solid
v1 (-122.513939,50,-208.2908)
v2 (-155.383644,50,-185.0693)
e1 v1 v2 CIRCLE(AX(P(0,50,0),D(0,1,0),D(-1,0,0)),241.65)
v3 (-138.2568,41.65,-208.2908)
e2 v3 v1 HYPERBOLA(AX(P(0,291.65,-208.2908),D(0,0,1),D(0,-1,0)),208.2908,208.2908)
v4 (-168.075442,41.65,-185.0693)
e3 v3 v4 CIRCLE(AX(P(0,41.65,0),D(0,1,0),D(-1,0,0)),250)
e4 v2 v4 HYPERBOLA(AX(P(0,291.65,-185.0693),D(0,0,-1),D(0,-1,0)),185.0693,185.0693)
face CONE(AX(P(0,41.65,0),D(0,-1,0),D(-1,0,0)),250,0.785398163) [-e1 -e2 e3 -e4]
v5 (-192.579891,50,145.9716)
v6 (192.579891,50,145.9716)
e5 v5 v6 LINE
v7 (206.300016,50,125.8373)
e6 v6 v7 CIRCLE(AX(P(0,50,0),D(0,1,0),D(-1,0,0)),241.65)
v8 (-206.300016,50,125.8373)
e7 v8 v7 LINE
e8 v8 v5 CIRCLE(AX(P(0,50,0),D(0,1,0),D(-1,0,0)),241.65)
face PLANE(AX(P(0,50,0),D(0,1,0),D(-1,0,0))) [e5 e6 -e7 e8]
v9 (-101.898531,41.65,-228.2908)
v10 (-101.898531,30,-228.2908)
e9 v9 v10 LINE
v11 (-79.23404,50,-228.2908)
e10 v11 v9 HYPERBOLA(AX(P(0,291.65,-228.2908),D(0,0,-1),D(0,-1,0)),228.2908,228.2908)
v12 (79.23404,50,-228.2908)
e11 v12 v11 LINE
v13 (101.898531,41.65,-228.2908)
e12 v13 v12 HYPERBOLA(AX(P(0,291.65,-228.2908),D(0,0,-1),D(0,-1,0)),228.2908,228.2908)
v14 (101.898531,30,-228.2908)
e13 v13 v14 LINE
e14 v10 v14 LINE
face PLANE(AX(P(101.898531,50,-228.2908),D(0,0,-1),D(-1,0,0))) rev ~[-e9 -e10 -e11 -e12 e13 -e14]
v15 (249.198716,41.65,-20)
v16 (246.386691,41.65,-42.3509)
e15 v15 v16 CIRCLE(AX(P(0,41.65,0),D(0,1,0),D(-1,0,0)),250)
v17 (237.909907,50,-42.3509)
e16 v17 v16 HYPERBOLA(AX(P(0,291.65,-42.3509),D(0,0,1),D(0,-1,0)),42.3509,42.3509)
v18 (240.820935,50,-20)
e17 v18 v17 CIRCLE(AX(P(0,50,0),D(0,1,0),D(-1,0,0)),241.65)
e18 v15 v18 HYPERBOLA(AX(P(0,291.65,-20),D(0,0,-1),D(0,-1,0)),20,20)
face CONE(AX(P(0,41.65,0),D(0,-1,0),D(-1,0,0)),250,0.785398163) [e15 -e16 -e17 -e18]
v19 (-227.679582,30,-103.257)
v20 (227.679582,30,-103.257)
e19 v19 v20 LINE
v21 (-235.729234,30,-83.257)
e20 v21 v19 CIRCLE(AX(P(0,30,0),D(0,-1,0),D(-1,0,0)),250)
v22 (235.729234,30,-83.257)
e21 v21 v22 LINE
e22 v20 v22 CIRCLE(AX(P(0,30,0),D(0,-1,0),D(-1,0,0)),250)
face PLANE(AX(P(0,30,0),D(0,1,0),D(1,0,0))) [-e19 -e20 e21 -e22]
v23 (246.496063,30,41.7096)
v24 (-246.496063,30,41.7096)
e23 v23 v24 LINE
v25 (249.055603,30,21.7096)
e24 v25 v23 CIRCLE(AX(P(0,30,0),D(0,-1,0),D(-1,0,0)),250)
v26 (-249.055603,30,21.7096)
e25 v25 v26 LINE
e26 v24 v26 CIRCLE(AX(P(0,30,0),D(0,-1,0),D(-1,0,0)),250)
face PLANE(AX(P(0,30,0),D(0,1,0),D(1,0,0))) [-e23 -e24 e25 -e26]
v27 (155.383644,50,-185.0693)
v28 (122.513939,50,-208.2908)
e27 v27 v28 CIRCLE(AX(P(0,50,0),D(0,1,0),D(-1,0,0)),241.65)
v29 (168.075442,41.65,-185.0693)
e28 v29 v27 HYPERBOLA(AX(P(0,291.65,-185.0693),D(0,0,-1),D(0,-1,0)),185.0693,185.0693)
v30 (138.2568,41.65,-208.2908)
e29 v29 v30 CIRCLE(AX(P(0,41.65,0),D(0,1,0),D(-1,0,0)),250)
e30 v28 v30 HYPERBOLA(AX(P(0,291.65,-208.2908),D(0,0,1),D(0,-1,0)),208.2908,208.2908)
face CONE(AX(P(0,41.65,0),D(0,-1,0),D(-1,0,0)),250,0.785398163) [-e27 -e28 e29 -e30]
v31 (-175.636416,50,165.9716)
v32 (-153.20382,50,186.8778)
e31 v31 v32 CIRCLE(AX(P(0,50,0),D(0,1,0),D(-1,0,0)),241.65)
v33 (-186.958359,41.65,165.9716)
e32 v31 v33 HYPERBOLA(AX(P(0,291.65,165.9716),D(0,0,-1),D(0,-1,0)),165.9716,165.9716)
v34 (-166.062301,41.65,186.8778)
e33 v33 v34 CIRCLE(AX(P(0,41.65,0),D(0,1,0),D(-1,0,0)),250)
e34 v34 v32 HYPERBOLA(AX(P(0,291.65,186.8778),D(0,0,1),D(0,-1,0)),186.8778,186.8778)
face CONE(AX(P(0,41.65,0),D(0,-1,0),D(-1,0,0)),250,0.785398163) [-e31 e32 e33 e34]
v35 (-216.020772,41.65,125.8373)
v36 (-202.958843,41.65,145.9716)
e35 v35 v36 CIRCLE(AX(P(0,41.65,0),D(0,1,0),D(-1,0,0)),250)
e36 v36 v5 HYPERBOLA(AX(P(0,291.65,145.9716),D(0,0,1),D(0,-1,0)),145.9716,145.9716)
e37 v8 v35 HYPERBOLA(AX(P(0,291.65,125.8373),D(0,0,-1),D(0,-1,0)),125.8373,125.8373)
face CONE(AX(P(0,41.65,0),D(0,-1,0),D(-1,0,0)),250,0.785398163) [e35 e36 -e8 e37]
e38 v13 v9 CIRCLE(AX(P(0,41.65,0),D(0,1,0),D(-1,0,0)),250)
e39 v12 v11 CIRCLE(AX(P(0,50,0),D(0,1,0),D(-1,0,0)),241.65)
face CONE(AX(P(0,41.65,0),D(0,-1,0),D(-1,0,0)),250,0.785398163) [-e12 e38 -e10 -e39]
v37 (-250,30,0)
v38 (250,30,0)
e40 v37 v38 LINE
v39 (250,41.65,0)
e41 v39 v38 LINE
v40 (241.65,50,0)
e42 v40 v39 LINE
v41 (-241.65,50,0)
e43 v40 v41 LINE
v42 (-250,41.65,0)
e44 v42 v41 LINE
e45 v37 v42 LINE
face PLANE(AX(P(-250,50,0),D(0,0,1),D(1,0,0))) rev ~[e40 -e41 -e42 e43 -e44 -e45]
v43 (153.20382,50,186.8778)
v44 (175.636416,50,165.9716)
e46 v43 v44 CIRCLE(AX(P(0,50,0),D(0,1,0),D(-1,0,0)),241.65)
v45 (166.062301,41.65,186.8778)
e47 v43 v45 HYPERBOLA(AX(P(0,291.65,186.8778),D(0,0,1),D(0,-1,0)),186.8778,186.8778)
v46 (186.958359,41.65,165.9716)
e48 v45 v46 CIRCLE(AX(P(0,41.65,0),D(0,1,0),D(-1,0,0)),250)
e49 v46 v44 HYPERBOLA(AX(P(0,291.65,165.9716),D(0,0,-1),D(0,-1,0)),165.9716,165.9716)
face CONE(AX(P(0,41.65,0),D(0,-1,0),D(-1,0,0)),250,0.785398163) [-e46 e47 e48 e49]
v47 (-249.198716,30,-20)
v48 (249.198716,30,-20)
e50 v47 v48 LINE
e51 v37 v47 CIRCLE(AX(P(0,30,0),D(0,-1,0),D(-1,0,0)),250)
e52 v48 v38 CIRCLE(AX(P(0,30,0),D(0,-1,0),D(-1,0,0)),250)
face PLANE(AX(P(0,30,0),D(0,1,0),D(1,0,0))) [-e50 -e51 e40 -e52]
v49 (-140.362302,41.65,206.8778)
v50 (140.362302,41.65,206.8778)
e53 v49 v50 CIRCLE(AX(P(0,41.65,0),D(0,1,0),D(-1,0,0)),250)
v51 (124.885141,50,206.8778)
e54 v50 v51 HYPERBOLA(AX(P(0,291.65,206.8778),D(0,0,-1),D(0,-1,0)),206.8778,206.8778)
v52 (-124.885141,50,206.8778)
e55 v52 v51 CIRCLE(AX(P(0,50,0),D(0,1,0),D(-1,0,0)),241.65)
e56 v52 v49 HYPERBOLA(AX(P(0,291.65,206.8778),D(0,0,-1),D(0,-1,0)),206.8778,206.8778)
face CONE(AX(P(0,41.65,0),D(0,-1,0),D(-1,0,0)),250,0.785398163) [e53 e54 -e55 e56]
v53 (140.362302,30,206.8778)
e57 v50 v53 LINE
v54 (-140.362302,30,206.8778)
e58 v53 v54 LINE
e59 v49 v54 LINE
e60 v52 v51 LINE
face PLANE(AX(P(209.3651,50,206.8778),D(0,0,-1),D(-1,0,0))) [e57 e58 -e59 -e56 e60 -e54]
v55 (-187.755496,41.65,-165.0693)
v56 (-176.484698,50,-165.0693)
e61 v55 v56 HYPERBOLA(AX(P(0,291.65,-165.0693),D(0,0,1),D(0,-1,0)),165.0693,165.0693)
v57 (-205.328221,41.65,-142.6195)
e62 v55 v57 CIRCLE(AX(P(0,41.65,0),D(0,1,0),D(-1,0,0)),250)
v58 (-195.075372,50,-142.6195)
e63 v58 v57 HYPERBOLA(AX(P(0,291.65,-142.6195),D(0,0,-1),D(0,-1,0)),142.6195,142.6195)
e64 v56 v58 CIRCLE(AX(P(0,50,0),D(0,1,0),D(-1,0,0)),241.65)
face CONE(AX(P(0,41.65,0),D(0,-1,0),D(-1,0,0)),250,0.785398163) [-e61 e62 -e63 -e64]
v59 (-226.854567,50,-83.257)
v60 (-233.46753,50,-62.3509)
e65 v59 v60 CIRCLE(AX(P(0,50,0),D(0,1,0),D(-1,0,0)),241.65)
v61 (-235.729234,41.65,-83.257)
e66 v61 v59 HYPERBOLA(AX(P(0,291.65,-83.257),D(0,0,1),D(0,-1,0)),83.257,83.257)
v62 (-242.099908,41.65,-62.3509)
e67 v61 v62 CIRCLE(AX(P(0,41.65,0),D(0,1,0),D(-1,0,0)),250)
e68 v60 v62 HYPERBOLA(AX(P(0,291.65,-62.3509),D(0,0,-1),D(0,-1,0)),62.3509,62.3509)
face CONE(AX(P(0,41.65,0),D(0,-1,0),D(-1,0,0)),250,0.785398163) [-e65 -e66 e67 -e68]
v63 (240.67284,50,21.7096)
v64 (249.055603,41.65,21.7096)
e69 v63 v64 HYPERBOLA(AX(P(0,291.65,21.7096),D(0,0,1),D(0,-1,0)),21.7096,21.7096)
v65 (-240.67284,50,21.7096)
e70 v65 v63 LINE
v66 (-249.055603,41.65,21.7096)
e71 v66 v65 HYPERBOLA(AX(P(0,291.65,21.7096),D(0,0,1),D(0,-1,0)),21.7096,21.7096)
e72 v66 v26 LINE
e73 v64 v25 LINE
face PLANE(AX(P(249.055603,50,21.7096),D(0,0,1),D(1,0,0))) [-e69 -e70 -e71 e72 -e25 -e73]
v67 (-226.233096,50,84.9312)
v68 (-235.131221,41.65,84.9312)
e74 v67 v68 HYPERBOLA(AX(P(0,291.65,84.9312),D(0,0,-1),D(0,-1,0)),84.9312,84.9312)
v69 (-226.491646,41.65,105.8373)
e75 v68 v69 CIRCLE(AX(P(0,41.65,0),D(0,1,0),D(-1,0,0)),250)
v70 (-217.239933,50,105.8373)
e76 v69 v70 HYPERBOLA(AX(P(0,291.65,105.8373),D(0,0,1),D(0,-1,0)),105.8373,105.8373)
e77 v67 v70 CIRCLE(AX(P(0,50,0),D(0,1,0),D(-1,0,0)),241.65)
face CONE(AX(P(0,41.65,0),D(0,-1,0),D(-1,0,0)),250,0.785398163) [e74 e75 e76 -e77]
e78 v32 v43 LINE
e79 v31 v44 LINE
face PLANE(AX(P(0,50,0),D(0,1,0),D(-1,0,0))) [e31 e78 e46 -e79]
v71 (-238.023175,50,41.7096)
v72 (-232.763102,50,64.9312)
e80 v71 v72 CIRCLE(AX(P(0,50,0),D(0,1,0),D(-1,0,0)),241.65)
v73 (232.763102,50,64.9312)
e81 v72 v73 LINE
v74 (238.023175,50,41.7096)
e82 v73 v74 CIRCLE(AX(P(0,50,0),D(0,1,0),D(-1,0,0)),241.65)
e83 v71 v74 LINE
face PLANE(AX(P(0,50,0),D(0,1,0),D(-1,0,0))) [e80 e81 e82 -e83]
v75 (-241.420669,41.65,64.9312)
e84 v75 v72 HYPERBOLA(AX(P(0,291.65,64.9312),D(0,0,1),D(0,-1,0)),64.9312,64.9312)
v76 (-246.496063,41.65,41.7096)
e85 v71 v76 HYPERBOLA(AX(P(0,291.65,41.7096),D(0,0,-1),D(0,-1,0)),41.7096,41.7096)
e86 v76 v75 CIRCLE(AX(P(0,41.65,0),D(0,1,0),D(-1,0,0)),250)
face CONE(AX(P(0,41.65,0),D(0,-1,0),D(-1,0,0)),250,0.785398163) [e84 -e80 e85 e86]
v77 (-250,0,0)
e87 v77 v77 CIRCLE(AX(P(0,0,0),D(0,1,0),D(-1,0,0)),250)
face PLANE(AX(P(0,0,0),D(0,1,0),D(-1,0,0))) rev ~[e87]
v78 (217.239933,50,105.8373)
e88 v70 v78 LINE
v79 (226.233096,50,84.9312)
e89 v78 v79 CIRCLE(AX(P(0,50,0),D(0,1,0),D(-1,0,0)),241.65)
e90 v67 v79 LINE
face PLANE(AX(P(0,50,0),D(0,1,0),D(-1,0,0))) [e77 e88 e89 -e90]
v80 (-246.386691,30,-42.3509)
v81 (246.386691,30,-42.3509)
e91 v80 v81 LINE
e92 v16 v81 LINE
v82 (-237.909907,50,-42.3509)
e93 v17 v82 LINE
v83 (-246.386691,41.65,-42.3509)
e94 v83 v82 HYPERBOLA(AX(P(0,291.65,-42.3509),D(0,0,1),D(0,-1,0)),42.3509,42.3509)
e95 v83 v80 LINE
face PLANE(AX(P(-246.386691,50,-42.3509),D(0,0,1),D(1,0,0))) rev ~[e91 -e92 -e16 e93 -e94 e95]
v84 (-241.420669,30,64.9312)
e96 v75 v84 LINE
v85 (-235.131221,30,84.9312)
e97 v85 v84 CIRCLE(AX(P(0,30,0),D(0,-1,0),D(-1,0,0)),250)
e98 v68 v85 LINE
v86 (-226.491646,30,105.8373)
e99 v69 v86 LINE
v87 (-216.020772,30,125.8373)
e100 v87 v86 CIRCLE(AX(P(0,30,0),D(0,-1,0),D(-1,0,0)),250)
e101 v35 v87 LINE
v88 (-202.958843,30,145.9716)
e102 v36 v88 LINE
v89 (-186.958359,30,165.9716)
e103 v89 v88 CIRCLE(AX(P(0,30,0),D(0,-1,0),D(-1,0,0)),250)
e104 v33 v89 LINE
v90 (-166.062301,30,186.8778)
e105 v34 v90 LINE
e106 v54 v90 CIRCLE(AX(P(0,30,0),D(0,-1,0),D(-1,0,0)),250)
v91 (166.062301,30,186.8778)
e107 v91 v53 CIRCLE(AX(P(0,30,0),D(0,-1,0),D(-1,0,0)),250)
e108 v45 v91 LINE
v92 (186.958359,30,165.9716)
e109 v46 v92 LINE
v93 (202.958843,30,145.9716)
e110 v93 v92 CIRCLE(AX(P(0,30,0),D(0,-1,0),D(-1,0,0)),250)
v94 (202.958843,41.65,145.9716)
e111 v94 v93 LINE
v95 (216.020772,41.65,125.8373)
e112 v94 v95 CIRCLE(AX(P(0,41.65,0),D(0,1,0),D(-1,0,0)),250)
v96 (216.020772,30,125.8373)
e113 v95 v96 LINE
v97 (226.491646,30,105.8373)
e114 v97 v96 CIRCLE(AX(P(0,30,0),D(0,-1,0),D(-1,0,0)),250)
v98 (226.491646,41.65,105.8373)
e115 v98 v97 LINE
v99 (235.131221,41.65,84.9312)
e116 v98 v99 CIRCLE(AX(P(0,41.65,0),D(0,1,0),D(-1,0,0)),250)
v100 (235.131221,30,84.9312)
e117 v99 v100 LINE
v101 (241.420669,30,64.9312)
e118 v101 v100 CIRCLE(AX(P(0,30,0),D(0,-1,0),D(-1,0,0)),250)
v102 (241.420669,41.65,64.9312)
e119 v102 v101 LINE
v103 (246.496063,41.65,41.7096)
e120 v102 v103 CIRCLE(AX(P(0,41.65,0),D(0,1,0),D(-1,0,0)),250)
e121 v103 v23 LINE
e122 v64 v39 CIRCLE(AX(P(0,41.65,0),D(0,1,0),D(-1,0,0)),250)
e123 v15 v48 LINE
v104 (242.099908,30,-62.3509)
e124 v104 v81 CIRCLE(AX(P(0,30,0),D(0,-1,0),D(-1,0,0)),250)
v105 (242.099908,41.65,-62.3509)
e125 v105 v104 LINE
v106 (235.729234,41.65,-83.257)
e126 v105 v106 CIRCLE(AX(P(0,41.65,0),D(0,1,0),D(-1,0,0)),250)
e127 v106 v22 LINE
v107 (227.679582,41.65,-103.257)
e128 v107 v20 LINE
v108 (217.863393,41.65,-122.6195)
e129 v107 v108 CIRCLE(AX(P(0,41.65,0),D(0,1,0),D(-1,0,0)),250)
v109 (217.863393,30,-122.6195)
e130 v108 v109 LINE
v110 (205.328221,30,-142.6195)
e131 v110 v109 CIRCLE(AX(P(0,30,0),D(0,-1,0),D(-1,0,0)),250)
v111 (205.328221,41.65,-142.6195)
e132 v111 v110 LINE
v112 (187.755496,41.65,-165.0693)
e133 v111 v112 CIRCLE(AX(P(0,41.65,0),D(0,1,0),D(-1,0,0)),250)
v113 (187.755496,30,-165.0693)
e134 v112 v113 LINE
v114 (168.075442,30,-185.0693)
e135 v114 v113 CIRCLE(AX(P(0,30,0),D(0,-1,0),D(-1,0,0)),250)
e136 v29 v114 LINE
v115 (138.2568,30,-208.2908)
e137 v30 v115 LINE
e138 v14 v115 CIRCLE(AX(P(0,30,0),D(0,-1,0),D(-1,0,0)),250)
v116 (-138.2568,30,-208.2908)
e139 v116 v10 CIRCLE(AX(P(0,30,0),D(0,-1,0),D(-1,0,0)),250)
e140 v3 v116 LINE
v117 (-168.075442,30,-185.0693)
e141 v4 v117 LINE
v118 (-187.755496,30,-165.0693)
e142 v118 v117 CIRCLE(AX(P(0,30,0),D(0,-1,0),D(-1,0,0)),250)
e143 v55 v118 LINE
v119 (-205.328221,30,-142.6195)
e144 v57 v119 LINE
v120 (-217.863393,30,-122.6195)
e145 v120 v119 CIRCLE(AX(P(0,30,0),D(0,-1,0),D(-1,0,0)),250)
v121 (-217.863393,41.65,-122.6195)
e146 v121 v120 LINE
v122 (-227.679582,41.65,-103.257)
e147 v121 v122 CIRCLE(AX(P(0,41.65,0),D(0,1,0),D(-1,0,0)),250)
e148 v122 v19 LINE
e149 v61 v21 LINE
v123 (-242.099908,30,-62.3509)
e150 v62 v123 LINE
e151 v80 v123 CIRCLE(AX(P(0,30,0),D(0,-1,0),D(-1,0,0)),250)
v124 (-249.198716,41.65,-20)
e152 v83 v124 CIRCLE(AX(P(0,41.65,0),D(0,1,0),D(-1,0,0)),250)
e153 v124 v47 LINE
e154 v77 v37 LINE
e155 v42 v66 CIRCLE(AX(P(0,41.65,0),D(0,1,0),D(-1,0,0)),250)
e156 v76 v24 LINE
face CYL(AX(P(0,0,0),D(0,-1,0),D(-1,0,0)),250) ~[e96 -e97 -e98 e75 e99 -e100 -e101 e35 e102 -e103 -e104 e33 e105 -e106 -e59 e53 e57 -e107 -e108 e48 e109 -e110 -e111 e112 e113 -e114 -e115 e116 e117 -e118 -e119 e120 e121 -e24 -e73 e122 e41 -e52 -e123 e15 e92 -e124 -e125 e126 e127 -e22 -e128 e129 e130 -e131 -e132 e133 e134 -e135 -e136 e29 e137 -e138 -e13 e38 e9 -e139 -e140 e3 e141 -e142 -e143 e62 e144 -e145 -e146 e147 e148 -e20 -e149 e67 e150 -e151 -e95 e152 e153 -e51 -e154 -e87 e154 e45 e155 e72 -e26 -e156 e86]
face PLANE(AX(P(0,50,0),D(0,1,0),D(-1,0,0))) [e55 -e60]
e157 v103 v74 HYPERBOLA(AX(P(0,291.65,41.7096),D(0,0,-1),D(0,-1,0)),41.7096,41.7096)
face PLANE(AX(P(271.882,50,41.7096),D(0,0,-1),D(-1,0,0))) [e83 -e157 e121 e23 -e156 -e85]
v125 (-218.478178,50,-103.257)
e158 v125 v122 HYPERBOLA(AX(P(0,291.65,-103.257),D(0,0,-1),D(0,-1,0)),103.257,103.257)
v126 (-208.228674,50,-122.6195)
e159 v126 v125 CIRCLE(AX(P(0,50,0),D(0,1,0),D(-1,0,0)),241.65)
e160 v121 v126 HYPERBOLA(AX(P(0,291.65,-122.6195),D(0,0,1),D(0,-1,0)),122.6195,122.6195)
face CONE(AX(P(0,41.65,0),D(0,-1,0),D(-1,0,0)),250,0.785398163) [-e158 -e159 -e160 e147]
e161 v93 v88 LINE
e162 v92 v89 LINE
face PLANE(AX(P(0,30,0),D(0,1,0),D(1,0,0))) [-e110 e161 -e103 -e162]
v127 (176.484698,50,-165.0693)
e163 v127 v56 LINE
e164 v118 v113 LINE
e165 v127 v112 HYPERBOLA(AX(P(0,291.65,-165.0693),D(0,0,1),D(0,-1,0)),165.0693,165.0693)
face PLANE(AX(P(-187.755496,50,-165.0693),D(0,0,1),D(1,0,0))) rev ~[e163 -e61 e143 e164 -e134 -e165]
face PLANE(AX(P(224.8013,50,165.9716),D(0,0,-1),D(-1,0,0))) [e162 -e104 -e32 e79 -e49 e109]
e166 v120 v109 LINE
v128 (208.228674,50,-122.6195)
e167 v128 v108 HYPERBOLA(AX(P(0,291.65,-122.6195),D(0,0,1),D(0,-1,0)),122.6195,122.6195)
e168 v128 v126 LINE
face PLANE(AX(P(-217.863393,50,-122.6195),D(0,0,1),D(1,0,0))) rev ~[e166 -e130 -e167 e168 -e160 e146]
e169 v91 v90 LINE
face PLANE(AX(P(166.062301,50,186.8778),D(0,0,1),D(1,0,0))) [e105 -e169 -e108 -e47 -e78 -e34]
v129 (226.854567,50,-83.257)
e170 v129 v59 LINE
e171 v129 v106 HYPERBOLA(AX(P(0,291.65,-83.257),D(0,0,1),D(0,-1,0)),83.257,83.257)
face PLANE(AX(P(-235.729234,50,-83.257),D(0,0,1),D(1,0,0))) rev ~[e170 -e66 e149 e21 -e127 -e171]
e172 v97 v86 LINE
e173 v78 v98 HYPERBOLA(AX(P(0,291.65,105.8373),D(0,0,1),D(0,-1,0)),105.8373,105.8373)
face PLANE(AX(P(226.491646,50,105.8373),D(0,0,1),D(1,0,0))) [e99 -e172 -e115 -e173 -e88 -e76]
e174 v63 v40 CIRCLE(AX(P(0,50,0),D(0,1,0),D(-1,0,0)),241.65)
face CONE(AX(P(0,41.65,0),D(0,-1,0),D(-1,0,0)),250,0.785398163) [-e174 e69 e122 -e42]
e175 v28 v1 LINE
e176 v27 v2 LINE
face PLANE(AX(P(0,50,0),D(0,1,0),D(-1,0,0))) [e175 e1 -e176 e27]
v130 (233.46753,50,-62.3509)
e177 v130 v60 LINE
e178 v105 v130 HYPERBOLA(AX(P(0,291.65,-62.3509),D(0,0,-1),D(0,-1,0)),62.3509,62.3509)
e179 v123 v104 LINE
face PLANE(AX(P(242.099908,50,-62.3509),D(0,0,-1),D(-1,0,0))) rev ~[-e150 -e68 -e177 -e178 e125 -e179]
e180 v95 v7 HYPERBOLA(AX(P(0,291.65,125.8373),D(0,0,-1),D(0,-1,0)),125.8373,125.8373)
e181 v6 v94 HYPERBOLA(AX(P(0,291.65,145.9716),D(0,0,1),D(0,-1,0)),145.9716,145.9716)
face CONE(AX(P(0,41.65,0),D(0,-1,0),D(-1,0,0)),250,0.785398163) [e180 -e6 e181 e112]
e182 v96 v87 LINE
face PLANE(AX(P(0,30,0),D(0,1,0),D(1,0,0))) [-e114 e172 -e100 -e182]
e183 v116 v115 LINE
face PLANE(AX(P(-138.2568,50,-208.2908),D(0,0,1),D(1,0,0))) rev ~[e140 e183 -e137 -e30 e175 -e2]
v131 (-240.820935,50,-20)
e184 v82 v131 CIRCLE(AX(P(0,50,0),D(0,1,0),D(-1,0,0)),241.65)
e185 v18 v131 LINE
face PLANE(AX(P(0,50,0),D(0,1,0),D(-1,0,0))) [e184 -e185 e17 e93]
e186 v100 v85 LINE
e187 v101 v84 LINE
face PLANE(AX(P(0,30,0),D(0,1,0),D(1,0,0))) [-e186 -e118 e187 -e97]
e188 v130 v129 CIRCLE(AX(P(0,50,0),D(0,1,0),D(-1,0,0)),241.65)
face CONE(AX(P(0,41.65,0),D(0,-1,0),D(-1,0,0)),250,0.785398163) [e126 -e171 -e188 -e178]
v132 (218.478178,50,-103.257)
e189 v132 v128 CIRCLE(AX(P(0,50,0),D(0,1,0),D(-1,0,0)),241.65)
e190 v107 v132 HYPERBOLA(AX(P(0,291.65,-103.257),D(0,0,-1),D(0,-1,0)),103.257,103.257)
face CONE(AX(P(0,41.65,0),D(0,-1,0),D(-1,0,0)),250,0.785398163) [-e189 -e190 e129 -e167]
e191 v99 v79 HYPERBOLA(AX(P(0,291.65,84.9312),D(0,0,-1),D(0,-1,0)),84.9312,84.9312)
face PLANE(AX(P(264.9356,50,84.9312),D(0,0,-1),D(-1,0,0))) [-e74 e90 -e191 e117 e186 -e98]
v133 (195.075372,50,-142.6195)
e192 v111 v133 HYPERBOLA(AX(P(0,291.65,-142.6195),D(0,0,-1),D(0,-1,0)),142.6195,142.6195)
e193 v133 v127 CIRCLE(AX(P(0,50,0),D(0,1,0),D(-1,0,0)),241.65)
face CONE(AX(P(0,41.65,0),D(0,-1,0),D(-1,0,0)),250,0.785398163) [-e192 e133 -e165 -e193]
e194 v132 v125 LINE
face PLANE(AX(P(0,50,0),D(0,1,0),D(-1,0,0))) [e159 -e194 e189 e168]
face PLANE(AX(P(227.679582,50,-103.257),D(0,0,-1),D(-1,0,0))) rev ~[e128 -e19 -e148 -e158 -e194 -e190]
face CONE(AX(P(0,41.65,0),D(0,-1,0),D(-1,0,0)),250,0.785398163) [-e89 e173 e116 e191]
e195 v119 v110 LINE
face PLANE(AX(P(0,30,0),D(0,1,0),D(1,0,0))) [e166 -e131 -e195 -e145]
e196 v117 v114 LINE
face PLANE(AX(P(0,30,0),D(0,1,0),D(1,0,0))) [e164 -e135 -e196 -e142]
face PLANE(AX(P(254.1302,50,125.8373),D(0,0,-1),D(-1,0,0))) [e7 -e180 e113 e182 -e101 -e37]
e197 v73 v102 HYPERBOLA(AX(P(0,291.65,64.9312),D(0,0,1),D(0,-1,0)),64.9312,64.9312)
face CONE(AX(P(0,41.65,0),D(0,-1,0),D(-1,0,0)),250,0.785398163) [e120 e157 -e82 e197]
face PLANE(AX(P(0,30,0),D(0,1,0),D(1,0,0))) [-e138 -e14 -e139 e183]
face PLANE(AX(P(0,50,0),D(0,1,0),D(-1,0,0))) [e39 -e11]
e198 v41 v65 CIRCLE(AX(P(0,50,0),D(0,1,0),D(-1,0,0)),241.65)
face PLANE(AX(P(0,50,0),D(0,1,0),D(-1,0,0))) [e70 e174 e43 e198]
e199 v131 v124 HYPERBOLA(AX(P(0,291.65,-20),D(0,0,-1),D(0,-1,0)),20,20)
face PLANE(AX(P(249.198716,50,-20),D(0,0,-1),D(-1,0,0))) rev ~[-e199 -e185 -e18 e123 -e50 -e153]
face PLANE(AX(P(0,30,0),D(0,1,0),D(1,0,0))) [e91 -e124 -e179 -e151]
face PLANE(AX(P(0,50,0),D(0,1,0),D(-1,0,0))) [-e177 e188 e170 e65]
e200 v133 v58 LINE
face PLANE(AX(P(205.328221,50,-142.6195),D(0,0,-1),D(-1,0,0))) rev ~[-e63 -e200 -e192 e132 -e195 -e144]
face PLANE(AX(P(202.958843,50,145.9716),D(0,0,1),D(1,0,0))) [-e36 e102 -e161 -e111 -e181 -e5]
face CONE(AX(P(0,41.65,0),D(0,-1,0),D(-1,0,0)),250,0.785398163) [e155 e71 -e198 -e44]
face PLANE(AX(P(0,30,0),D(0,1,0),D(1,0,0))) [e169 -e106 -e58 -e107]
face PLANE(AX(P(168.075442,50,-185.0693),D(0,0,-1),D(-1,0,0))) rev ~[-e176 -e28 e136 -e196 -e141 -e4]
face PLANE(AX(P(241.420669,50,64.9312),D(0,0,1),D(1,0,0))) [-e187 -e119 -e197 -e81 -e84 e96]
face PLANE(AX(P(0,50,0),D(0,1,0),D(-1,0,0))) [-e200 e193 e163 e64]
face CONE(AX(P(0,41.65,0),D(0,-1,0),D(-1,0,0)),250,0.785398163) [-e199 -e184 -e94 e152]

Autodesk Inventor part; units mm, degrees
ref_plane "YZ Plane" through (0, 0, 0) normal (1, 0, 0) x (0, 1, 0)
ref_plane "XZ Plane" through (0, 0, 0) normal (0, 1, 0) x (-1, 0, 0)
ref_plane "XY Plane" through (0, 0, 0) normal (0, 0, 1) x (1, 0, 0)
sketch "Sketch1" plane through (0, 0, 0) normal (0, 1, 0) x (-1, 0, 0)
  circle A0 centre (0, 0) radius 250
  dimension "d0" = 500
extrude "Extrusion1" add sketch "Sketch1" along normal blind 50
chamfer "Chamfer1" distance 8.35 angle 45 1 edges at (250, 50, 0)
sketch "Sketch2" plane through (0, 50, 0) normal (0, 1, 0) x (1, 0, 0)
  circle A0 centre (0, 0) radius 250 projected
  line L0 (-269.1595, 0) -> (277.2847, 0)
  line L1 (277.2847, 0) -> (277.2847, 20)
  line L2 (277.2847, 20) -> (-269.1595, 20)
  line L3 (-269.1595, 20) -> (-269.1595, 0)
  line L4 (-257.5823, 42.3509) -> (264.9356, 42.3509)
  line L5 (264.9356, 42.3509) -> (264.9356, 62.3509)
  line L6 (264.9356, 62.3509) -> (-257.5823, 62.3509)
  line L7 (-257.5823, 62.3509) -> (-257.5823, 42.3509)
  line L8 (-250, 83.257) -> (254.1302, 83.257)
  line L9 (254.1302, 83.257) -> (254.1302, 103.257)
  line L10 (254.1302, 103.257) -> (-250, 103.257)
  line L11 (-250, 103.257) -> (-250, 83.257)
  line L12 (-232.1124, 122.6195) -> (241.7812, 122.6195)
  line L13 (241.7812, 122.6195) -> (241.7812, 142.6195)
  line L14 (241.7812, 142.6195) -> (-232.1124, 142.6195)
  line L15 (-232.1124, 142.6195) -> (-232.1124, 122.6195)
  line L16 (-202.0117, 165.0693) -> (241.7812, 165.0693)
  line L17 (241.7812, 165.0693) -> (241.7812, 185.0693)
  line L18 (241.7812, 185.0693) -> (-202.0117, 185.0693)
  line L19 (-202.0117, 185.0693) -> (-202.0117, 165.0693)
  line L20 (-151.8438, 208.2908) -> (197.016, 208.2908)
  line L21 (197.016, 208.2908) -> (197.016, 228.2908)
  line L22 (197.016, 228.2908) -> (-151.8438, 228.2908)
  line L23 (-151.8438, 228.2908) -> (-151.8438, 208.2908)
  line L24 (-257.5823, -21.7096) -> (271.882, -21.7096)
  line L25 (271.882, -21.7096) -> (271.882, -41.7096)
  line L26 (271.882, -41.7096) -> (-257.5823, -41.7096)
  line L27 (-257.5823, -41.7096) -> (-257.5823, -21.7096)
  line L28 (-250, -64.9312) -> (264.9356, -64.9312)
  line L29 (264.9356, -64.9312) -> (264.9356, -84.9312)
  line L30 (264.9356, -84.9312) -> (-250, -84.9312)
  line L31 (-250, -84.9312) -> (-250, -64.9312)
  line L32 (-236.7433, -105.8373) -> (254.1302, -105.8373)
  line L33 (254.1302, -105.8373) -> (254.1302, -125.8373)
  line L34 (254.1302, -125.8373) -> (-236.7433, -125.8373)
  line L35 (-236.7433, -125.8373) -> (-236.7433, -105.8373)
  line L36 (-215.9043, -145.9716) -> (224.8013, -145.9716)
  line L37 (224.8013, -145.9716) -> (224.8013, -165.9716)
  line L38 (224.8013, -165.9716) -> (-215.9043, -165.9716)
  line L39 (-215.9043, -165.9716) -> (-215.9043, -145.9716)
  line L40 (-185.0318, -186.8778) -> (209.3651, -186.8778)
  line L41 (209.3651, -186.8778) -> (209.3651, -206.8778)
  line L42 (209.3651, -206.8778) -> (-185.0318, -206.8778)
  line L43 (-185.0318, -206.8778) -> (-185.0318, -186.8778)
  dimension "d6" = 20
  dimension "d7" = 20
  dimension "d8" = 20
  dimension "d9" = 20
  dimension "d10" = 20
  dimension "d11" = 20
  dimension "d12" = 20
  dimension "d13" = 20
  dimension "d14" = 20
  dimension "d15" = 20
  dimension "d16" = 20
extrude "Extrusion2" cut sketch "Sketch2" against normal blind 20 contours L0 A0 L2 | A0 L2 L1 L0 | L24 L25 L26 A0 | A0 L26 L24 | L0 L3 L2 A0 | L4 A0 L6 | A0 L6 L5 L4 | A0 L26 L27 L24 | L4 L7 L6 A0 | L28 L29 L30 A0 | A0 L30 L28 | L8 A0 L10 | A0 L10 L9 L8 | A0 L30 L31 L28 | L8 L11 L10 A0 | L32 L33 L34 A0 | A0 L34 L32 | L12 A0 L14 | A0 L14 L13 L12 | A0 L34 L35 L32 | L12 L15 L14 A0 | L36 L37 L38 A0 | A0 L38 L36 | L16 A0 L18 | A0 L18 L17 L16 | A0 L38 L39 L36 | L16 L19 L18 A0 | L40 L41 L42 A0 | A0 L42 L40 | L20 A0 L22 | A0 L22 L21 L20 | A0 L42 L43 L40 | L20 L23 L22 A0
properties part number "MachiningBase"
